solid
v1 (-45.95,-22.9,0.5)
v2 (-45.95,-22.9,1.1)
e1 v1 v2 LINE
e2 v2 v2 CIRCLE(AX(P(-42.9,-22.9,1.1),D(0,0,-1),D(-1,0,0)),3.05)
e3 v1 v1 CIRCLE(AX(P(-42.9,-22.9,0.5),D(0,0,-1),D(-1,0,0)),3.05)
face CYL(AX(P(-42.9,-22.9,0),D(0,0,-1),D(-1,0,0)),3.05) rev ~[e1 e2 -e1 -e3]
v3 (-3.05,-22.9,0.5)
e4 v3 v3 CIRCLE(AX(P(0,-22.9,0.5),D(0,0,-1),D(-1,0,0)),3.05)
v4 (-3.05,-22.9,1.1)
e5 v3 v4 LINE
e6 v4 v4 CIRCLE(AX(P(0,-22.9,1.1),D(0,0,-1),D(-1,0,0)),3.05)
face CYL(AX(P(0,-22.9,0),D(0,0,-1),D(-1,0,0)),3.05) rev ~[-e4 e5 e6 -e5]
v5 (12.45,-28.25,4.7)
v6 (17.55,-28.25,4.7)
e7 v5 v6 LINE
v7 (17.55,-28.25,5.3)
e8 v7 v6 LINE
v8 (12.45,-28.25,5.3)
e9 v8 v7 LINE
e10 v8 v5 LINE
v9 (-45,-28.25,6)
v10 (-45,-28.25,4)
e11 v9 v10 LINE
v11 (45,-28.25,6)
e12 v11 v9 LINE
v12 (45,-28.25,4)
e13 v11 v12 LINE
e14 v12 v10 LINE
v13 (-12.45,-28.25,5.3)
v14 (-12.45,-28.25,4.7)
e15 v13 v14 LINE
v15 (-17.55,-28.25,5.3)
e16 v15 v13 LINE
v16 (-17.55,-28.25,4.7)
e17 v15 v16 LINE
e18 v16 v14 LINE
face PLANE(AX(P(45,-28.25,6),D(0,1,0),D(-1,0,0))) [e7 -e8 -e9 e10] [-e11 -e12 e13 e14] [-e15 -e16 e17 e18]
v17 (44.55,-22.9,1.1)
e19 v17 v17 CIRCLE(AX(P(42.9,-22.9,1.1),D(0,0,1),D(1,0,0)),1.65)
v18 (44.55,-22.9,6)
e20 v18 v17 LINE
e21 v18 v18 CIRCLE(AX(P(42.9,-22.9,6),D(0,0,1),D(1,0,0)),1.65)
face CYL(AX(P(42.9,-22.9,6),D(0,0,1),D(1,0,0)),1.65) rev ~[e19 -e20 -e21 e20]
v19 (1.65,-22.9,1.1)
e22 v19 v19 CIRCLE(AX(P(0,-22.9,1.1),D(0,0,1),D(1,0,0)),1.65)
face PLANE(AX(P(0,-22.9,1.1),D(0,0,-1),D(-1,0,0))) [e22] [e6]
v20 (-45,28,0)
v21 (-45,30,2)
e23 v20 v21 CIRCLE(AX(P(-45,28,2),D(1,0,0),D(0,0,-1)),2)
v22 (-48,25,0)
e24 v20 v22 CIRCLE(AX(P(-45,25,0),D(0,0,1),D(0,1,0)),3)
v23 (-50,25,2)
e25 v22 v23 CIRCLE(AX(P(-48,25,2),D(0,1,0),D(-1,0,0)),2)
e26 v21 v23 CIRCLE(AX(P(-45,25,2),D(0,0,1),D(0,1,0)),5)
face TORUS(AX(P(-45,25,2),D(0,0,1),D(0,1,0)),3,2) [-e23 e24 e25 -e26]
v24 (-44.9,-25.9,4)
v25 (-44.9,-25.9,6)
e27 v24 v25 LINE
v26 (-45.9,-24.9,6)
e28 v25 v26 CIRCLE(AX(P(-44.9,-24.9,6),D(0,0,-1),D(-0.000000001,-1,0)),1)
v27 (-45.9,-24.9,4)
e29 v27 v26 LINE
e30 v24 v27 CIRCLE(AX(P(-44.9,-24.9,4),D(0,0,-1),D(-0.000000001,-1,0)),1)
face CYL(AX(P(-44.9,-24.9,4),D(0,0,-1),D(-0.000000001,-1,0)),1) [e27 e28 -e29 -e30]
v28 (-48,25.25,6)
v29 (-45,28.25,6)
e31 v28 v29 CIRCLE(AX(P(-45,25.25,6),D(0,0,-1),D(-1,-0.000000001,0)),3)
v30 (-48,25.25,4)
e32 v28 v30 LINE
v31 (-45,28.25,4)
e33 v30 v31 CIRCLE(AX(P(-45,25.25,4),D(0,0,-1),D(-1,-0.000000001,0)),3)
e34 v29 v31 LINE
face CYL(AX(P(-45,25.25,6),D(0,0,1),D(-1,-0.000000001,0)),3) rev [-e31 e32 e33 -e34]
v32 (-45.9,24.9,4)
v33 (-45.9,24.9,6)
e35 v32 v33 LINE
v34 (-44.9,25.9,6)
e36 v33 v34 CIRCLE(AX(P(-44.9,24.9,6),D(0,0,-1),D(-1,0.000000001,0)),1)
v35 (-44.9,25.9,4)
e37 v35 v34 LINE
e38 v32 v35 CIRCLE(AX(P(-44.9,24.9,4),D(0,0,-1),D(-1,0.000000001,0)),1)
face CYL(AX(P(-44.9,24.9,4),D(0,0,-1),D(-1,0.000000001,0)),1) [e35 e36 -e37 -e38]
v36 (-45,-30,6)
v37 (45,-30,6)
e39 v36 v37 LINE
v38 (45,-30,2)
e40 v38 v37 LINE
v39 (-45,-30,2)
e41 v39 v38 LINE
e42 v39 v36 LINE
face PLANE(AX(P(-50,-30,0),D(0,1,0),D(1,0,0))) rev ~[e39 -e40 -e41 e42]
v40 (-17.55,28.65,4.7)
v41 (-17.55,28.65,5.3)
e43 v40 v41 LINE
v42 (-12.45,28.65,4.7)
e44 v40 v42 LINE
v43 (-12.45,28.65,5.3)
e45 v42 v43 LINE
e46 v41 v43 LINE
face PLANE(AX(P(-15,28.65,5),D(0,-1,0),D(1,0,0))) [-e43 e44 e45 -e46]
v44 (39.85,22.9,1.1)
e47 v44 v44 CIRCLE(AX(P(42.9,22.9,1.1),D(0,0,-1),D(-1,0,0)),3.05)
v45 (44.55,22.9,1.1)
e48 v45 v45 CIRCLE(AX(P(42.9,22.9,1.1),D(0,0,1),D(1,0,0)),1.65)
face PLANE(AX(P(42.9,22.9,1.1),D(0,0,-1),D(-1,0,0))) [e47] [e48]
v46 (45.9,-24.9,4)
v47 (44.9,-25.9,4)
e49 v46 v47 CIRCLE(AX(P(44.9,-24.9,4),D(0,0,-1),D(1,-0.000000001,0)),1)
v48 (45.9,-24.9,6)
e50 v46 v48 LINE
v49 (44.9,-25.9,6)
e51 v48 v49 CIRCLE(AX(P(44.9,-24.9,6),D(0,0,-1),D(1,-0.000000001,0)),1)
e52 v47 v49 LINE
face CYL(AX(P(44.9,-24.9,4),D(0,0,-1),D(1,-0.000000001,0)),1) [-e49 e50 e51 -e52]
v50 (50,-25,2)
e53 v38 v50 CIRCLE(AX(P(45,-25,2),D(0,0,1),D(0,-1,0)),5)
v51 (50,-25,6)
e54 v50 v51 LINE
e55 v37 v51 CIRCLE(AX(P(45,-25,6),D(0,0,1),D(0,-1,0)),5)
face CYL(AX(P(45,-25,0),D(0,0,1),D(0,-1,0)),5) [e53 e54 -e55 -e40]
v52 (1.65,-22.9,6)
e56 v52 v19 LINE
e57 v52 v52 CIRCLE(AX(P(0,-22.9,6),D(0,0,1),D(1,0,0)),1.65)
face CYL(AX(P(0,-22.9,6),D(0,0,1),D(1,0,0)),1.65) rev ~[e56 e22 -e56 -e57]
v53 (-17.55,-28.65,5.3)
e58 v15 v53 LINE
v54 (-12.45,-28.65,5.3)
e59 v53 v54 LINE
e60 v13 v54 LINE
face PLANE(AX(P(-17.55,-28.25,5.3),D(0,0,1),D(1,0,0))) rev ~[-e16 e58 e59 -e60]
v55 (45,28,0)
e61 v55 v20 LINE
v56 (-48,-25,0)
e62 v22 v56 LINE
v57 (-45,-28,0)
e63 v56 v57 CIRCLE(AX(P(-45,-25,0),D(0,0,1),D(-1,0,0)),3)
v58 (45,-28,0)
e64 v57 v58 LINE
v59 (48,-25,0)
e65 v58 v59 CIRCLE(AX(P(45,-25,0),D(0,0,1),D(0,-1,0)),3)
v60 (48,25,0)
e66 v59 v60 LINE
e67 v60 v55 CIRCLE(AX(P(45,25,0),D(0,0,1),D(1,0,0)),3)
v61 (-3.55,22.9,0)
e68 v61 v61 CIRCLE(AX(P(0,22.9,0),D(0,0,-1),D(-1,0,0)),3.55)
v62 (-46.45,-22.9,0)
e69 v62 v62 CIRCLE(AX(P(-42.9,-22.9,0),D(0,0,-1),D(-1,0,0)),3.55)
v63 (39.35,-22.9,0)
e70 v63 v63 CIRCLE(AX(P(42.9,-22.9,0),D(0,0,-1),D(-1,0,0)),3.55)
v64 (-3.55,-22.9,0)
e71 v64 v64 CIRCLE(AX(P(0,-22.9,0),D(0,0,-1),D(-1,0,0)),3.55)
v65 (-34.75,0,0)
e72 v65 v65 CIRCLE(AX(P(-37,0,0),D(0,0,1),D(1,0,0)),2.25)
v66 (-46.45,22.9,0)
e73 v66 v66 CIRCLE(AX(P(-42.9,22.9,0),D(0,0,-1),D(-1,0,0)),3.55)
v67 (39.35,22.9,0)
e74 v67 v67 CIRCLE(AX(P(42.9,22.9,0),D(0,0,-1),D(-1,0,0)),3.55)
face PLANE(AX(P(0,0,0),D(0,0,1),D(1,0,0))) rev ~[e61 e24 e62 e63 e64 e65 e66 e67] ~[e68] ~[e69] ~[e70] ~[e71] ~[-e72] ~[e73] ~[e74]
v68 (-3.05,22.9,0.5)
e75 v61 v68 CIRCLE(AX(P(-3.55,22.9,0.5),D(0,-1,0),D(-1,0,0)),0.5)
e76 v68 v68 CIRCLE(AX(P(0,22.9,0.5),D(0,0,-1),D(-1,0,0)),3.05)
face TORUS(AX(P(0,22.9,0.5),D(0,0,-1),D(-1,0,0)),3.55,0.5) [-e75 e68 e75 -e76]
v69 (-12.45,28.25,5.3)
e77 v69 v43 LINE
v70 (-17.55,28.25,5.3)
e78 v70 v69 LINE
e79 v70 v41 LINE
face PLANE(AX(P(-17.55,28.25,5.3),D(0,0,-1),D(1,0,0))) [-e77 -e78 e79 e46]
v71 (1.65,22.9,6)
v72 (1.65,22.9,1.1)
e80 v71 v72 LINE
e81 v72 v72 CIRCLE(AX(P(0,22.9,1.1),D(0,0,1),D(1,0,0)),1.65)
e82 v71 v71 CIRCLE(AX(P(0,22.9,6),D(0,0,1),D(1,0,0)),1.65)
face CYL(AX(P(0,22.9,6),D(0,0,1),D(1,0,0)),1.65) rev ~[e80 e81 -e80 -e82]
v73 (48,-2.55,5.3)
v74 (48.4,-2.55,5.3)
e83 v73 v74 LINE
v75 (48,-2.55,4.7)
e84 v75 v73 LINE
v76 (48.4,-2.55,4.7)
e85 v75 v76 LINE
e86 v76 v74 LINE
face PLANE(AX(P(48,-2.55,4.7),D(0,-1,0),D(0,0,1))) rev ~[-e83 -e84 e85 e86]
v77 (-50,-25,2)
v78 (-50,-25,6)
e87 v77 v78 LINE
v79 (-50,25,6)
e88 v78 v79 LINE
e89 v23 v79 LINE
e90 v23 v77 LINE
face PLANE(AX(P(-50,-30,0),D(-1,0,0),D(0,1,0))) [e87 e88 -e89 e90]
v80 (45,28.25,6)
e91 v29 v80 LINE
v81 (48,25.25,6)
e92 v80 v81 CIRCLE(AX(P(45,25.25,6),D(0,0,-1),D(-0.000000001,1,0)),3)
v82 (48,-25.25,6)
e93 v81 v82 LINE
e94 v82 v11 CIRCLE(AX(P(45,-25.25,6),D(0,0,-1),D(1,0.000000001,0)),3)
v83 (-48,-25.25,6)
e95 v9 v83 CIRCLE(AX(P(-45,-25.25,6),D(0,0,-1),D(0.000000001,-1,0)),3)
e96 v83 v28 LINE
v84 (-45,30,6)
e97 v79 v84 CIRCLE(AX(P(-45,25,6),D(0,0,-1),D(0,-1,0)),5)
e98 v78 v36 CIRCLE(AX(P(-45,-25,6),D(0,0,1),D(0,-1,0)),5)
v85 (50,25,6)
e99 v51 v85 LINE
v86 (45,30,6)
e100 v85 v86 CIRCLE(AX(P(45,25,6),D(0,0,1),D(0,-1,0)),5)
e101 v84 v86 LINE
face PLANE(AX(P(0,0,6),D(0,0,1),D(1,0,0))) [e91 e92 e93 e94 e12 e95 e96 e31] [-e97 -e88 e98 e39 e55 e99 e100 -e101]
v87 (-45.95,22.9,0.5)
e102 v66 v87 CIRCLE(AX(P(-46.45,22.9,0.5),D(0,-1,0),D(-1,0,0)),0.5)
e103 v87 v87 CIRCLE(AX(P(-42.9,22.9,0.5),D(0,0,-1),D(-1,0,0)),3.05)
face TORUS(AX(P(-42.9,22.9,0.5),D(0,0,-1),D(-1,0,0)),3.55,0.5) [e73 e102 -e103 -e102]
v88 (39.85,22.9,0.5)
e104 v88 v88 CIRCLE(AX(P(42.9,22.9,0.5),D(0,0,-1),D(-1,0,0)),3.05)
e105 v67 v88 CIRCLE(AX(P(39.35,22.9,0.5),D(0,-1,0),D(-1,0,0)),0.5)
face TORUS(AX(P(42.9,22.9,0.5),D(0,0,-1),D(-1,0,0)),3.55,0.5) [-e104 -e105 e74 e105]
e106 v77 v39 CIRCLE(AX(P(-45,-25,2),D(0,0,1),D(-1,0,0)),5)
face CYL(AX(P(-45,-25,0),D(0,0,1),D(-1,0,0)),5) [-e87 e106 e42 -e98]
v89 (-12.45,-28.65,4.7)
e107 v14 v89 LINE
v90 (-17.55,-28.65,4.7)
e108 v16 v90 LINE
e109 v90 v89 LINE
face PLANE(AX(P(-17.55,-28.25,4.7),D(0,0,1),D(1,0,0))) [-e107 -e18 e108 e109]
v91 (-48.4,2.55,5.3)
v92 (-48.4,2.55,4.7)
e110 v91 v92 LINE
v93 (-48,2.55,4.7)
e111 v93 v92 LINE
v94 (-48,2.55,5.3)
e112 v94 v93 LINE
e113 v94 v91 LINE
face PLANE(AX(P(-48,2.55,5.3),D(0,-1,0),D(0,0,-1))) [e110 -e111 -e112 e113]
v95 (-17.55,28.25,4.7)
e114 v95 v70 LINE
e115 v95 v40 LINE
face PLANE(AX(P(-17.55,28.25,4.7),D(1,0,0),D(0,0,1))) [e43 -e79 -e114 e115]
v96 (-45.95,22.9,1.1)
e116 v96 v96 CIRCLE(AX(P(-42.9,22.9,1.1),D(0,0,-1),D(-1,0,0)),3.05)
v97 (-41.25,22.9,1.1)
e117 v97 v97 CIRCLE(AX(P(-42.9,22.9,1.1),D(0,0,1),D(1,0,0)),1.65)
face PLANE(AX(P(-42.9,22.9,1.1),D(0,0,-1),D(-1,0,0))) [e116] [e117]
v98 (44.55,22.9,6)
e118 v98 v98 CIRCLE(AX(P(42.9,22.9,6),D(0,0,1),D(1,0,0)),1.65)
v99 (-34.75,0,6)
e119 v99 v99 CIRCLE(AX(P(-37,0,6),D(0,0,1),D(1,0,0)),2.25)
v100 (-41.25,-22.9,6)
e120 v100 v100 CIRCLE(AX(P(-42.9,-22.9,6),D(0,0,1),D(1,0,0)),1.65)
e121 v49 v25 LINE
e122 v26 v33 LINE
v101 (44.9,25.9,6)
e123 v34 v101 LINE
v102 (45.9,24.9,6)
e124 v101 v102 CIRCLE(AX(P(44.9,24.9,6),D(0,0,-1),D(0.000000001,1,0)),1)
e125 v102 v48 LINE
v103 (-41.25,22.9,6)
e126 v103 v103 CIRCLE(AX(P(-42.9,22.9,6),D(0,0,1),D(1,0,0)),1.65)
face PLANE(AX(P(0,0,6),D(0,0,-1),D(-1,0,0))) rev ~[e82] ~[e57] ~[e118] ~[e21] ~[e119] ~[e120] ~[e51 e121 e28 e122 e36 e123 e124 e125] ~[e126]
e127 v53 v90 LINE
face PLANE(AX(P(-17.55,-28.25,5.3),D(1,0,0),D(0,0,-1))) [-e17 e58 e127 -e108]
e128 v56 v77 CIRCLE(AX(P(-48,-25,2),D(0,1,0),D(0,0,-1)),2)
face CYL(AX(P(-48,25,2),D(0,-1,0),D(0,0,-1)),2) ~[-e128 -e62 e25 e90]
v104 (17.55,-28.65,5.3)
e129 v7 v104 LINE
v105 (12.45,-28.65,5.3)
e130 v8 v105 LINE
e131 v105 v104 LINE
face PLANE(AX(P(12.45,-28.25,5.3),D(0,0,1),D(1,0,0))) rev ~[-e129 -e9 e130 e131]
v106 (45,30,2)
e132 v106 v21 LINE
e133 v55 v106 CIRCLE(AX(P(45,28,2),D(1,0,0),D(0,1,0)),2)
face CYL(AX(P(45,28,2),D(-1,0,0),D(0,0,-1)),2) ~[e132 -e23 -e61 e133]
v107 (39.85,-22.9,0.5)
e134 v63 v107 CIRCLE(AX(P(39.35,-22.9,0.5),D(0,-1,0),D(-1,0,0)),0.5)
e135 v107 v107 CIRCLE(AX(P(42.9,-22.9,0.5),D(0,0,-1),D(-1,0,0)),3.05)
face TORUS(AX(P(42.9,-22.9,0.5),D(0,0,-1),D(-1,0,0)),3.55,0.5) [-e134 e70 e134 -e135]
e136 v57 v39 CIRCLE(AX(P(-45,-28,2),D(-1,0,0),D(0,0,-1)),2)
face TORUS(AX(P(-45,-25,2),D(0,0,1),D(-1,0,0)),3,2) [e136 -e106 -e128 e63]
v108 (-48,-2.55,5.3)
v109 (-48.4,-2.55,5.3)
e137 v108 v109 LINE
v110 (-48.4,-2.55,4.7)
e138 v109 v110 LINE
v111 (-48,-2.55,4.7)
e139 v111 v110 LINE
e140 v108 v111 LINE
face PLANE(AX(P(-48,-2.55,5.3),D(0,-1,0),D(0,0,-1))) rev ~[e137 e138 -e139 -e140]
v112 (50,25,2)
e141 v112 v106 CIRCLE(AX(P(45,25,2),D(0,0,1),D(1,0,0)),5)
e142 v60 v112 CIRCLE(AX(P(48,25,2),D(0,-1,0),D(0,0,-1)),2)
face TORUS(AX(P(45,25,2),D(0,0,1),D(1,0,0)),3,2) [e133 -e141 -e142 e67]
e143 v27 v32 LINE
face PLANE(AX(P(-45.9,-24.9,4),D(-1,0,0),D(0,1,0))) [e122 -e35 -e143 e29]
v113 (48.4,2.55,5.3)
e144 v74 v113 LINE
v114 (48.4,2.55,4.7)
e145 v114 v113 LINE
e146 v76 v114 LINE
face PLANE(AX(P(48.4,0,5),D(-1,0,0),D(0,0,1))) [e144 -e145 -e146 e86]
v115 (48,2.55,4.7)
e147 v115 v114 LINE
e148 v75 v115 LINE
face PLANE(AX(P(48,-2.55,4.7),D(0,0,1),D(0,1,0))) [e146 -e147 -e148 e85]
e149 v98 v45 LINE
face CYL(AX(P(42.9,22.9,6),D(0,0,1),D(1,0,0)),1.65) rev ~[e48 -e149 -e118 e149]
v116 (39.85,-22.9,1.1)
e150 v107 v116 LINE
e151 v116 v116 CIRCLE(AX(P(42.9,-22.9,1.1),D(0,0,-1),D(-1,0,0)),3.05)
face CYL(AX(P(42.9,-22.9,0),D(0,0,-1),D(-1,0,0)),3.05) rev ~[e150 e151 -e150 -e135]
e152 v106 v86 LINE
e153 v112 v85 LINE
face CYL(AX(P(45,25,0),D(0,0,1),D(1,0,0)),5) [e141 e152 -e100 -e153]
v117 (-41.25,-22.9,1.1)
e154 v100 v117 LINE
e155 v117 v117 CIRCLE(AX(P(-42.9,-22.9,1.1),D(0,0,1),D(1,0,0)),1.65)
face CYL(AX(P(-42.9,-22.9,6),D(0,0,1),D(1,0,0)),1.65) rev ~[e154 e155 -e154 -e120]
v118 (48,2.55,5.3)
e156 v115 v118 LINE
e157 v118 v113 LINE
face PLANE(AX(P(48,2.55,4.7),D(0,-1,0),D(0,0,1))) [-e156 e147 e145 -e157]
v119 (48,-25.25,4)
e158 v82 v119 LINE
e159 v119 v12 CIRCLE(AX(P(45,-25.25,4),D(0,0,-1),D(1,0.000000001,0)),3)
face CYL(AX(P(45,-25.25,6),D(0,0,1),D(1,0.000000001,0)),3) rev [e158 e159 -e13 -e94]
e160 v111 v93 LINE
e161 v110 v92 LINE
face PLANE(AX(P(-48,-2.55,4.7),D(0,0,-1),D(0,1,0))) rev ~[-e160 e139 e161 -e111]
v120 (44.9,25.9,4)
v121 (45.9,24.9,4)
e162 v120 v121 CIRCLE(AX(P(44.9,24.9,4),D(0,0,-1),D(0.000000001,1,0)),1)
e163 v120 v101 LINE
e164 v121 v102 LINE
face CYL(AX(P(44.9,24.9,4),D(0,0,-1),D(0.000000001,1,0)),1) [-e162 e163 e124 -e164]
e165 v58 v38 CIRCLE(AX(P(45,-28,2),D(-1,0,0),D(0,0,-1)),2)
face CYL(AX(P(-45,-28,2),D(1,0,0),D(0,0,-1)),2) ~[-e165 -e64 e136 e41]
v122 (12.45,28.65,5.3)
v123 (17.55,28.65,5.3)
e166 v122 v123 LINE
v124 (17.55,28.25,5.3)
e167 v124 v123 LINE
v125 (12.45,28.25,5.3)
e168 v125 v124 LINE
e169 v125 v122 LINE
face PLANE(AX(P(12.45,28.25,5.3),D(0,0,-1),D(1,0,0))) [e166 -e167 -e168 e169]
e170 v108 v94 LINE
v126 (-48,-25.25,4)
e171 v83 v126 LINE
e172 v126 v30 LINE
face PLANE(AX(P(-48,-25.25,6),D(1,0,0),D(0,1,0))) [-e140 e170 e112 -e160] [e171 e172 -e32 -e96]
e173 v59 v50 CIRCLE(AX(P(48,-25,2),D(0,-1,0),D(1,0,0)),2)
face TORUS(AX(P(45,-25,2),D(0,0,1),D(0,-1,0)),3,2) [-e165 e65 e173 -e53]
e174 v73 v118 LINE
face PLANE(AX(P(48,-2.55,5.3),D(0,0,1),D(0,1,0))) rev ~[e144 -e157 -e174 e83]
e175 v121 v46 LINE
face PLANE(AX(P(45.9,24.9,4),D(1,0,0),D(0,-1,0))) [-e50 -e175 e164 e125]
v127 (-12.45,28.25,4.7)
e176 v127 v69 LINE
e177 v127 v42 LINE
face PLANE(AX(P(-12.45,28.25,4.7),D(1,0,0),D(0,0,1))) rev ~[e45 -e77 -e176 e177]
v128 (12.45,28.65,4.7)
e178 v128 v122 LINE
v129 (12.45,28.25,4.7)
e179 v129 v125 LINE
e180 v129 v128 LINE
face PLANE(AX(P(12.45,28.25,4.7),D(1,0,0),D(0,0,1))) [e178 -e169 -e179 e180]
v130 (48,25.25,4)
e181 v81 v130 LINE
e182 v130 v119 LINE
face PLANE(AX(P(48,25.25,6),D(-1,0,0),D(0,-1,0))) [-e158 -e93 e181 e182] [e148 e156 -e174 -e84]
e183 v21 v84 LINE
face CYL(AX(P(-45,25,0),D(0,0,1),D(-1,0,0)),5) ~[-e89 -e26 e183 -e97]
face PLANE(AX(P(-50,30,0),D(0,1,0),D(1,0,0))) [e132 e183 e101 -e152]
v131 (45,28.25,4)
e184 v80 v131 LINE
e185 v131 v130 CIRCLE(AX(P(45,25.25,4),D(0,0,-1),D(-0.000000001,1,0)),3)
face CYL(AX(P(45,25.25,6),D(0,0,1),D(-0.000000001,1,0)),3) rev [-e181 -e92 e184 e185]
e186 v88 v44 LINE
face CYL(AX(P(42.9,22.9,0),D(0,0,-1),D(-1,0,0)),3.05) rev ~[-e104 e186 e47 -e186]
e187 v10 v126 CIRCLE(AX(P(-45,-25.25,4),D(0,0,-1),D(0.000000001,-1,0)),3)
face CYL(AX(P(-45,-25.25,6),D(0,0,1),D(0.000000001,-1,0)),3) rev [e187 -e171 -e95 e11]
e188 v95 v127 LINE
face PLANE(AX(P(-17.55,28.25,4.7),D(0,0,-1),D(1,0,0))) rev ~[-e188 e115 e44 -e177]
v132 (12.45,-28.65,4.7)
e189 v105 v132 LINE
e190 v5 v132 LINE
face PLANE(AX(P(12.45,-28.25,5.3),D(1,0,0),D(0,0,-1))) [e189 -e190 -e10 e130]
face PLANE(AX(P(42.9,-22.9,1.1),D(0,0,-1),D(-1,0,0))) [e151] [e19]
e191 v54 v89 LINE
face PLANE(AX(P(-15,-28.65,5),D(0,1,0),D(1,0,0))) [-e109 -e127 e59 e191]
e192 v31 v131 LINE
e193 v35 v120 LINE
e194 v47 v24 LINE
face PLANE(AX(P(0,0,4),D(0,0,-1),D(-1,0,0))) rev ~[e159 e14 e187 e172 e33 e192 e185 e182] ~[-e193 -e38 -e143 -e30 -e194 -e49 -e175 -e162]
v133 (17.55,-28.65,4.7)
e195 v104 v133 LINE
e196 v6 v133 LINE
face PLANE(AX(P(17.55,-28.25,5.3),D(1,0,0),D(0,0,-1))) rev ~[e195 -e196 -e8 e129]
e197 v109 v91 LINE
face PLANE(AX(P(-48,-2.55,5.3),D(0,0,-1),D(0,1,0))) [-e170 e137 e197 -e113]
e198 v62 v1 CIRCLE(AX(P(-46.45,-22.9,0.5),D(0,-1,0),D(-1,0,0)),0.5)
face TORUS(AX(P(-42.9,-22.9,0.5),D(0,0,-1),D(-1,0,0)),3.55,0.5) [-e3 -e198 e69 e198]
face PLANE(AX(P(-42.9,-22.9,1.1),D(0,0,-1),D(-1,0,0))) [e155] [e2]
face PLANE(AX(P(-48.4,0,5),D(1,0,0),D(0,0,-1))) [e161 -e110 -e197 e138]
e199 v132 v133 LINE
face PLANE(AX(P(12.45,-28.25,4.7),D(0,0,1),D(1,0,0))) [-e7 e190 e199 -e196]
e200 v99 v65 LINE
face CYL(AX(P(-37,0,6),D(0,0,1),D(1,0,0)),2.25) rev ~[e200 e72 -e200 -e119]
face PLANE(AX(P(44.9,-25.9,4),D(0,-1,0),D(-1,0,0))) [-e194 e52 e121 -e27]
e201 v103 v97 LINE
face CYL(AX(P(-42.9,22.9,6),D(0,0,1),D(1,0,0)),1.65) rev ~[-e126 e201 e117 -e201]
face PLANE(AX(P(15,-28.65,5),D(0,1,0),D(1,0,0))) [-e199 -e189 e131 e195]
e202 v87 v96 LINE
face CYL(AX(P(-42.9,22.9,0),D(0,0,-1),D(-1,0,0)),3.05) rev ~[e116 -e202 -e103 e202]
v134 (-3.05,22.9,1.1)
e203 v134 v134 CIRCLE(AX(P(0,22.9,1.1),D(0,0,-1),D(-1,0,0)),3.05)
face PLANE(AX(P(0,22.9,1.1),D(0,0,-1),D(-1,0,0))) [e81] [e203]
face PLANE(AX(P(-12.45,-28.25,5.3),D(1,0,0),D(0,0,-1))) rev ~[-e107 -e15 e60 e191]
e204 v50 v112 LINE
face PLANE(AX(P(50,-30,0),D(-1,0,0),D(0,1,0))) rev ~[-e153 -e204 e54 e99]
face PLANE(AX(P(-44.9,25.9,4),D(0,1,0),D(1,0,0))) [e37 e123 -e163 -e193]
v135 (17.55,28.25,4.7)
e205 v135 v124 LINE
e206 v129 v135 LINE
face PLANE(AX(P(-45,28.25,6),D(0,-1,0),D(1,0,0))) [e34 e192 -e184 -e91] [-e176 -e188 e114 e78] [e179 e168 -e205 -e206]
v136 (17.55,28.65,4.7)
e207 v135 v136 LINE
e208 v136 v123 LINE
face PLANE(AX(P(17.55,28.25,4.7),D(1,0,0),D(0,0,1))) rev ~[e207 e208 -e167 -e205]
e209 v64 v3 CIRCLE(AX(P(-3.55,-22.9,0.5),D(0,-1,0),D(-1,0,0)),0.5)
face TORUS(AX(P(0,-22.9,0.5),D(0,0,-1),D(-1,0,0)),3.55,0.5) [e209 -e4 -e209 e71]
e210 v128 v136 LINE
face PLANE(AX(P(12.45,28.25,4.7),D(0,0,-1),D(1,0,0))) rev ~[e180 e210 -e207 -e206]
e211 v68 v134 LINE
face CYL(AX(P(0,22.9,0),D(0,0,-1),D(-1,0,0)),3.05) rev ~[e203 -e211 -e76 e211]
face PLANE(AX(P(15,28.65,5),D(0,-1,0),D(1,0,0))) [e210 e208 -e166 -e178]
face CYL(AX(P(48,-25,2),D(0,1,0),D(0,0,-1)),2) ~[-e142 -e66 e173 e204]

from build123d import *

# Parameters (mm, degrees)
SKETCH_1_W          = 100
SKETCH_1_H          = 60
EXTRUDE_1_DEPTH     = 6
FILLET_1_R          = 5
FILLET_2_R          = 2
CUT_EXTRUDE_1_DEPTH = 2
SKETCH_4_W          = 5.1
SKETCH_4_H          = 0.6
CUT_EXTRUDE_2_DEPTH = 0.4
SKETCH_5_W          = 5.1
SKETCH_5_H          = 0.6
CUT_EXTRUDE_3_DEPTH = 0.4
SKETCH_6_W          = 0.6
SKETCH_6_H          = 5.1
CUT_EXTRUDE_4_DEPTH = 0.4
SKETCH_7_W          = 0.6
SKETCH_7_H          = 5.1
CUT_EXTRUDE_5_DEPTH = 0.4
EXTRUDE_2_DEPTH     = 2
CUT_EXTRUDE_6_REACH = 8
SKETCH_9_R          = 1.65
SKETCH_10_R         = 3.05
CUT_EXTRUDE_7_DEPTH = 1.1
FILLET_3_R          = 0.5
CUT_EXTRUDE_8_REACH = 8
SKETCH_11_R         = 2.25


with BuildPart() as part:
    # 草图1 → 凸台-拉伸1 (new body)
    with BuildSketch(Plane.XY):
        Rectangle(SKETCH_1_W, SKETCH_1_H)
    extrude(amount=EXTRUDE_1_DEPTH)

    # 圆角1
    fillet_1_edges = [part.edges().sort_by_distance(p)[0] for p in [
        (-50, 30, 3),
        (50, 30, 3),
        (50, -30, 3),
        (-50, -30, 3),
    ]]
    fillet(fillet_1_edges, radius=FILLET_1_R)

    # 圆角2
    fillet_2_edges = [part.edges().sort_by_distance(p)[0] for p in [
        (0, -30, 0),
        (-50, 0, 0),
        (0, 30, 0),
        (50, 0, 0),
        (-48.535533906, 28.535533906, 0),
        (48.535533906, 28.535533906, 0),
        (48.535533906, -28.535533906, 0),
        (-48.535533906, -28.535533906, 0),
    ]]
    fillet(fillet_2_edges, radius=FILLET_2_R)

    # 草图2 → 切除-拉伸1 (cut)
    with BuildSketch(Plane.XY.offset(6)):
        with BuildLine():
            Line((-45, 28.25), (45, 28.25))
            ThreePointArc((45, 28.25), (47.121320344, 27.371320344), (48, 25.25))
            Line((48, 25.25), (48, -25.25))
            ThreePointArc((48, -25.25), (47.121320344, -27.371320344), (45, -28.25))
            Line((45, -28.25), (-45, -28.25))
            ThreePointArc((-45, -28.25), (-47.121320344, -27.371320344), (-48, -25.25))
            Line((-48, -25.25), (-48, 25.25))
            ThreePointArc((-48, 25.25), (-47.121320344, 27.371320344), (-45, 28.25))
        make_face()
    extrude(amount=-CUT_EXTRUDE_1_DEPTH, mode=Mode.SUBTRACT)

    # 草图4 → 切除-拉伸2 (cut)
    with BuildSketch(Plane(origin=(0, -28.25, 0), x_dir=(1, 0, 0), z_dir=(0, 1, 0))):
        with Locations((15, -5)):
            Rectangle(SKETCH_4_W, SKETCH_4_H)
        with Locations((-15, -5)):
            Rectangle(SKETCH_4_W, SKETCH_4_H)
    extrude(amount=-CUT_EXTRUDE_2_DEPTH, mode=Mode.SUBTRACT)

    # 草图5 → 切除-拉伸3 (cut)
    with BuildSketch(Plane.XZ.offset(-28.25)):
        with Locations((-15, 5)):
            Rectangle(SKETCH_5_W, SKETCH_5_H)
        with Locations((15, 5)):
            Rectangle(SKETCH_5_W, SKETCH_5_H)
    extrude(amount=-CUT_EXTRUDE_3_DEPTH, mode=Mode.SUBTRACT)

    # 草图6 → 切除-拉伸4 (cut)
    with BuildSketch(Plane(origin=(-48, 0, 0), x_dir=(0, 0, -1), z_dir=(1, 0, 0))):
        with Locations((-5, 0)):
            Rectangle(SKETCH_6_W, SKETCH_6_H)
    extrude(amount=-CUT_EXTRUDE_4_DEPTH, mode=Mode.SUBTRACT)

    # 草图7 → 切除-拉伸5 (cut)
    with BuildSketch(Plane.ZY.offset(-48)):
        with Locations((5, 0)):
            Rectangle(SKETCH_7_W, SKETCH_7_H)
    extrude(amount=-CUT_EXTRUDE_5_DEPTH, mode=Mode.SUBTRACT)

    # 草图8 → 凸台-拉伸2 (add)
    with BuildSketch(Plane.XY.offset(4)):
        with BuildLine():
            Line((44.9, -25.9), (-44.9, -25.9))
            ThreePointArc((-44.9, -25.9), (-45.607106781, -25.607106781), (-45.9, -24.9))
            Line((-45.9, -24.9), (-45.9, 24.9))
            ThreePointArc((-45.9, 24.9), (-45.607106781, 25.607106781), (-44.9, 25.9))
            Line((-44.9, 25.9), (44.9, 25.9))
            ThreePointArc((44.9, 25.9), (45.607106781, 25.607106781), (45.9, 24.9))
            Line((45.9, 24.9), (45.9, -24.9))
            ThreePointArc((45.9, -24.9), (45.607106781, -25.607106781), (44.9, -25.9))
        make_face()
    extrude(amount=EXTRUDE_2_DEPTH)

    # 草图9 → 切除-拉伸6 (cut, up to next)
    with BuildSketch(Plane.XY.offset(6), mode=Mode.PRIVATE) as cut_extrude_6_sk1:
        with Locations((42.9, 22.9)):
            Circle(SKETCH_9_R)
    cut_extrude_6_tool1 = extrude(cut_extrude_6_sk1.sketch, amount=-CUT_EXTRUDE_6_REACH, mode=Mode.PRIVATE) & part.part
    add(cut_extrude_6_tool1.solids().sort_by_distance((42.9, 22.9, 6))[0], mode=Mode.SUBTRACT)
    # 草图9 → 切除-拉伸6 (cut, up to next)
    with BuildSketch(Plane.XY.offset(6), mode=Mode.PRIVATE) as cut_extrude_6_sk2:
        with Locations((0, 22.9)):
            Circle(SKETCH_9_R)
    cut_extrude_6_tool2 = extrude(cut_extrude_6_sk2.sketch, amount=-CUT_EXTRUDE_6_REACH, mode=Mode.PRIVATE) & part.part
    add(cut_extrude_6_tool2.solids().sort_by_distance((0, 22.9, 6))[0], mode=Mode.SUBTRACT)
    # 草图9 → 切除-拉伸6 (cut, up to next)
    with BuildSketch(Plane.XY.offset(6), mode=Mode.PRIVATE) as cut_extrude_6_sk3:
        with Locations((-42.9, 22.9)):
            Circle(SKETCH_9_R)
    cut_extrude_6_tool3 = extrude(cut_extrude_6_sk3.sketch, amount=-CUT_EXTRUDE_6_REACH, mode=Mode.PRIVATE) & part.part
    add(cut_extrude_6_tool3.solids().sort_by_distance((-42.9, 22.9, 6))[0], mode=Mode.SUBTRACT)
    # 草图9 → 切除-拉伸6 (cut, up to next)
    with BuildSketch(Plane.XY.offset(6), mode=Mode.PRIVATE) as cut_extrude_6_sk4:
        with Locations((-42.9, -22.9)):
            Circle(SKETCH_9_R)
    cut_extrude_6_tool4 = extrude(cut_extrude_6_sk4.sketch, amount=-CUT_EXTRUDE_6_REACH, mode=Mode.PRIVATE) & part.part
    add(cut_extrude_6_tool4.solids().sort_by_distance((-42.9, -22.9, 6))[0], mode=Mode.SUBTRACT)
    # 草图9 → 切除-拉伸6 (cut, up to next)
    with BuildSketch(Plane.XY.offset(6), mode=Mode.PRIVATE) as cut_extrude_6_sk5:
        with Locations((0, -22.9)):
            Circle(SKETCH_9_R)
    cut_extrude_6_tool5 = extrude(cut_extrude_6_sk5.sketch, amount=-CUT_EXTRUDE_6_REACH, mode=Mode.PRIVATE) & part.part
    add(cut_extrude_6_tool5.solids().sort_by_distance((0, -22.9, 6))[0], mode=Mode.SUBTRACT)
    # 草图9 → 切除-拉伸6 (cut, up to next)
    with BuildSketch(Plane.XY.offset(6), mode=Mode.PRIVATE) as cut_extrude_6_sk6:
        with Locations((42.9, -22.9)):
            Circle(SKETCH_9_R)
    cut_extrude_6_tool6 = extrude(cut_extrude_6_sk6.sketch, amount=-CUT_EXTRUDE_6_REACH, mode=Mode.PRIVATE) & part.part
    add(cut_extrude_6_tool6.solids().sort_by_distance((42.9, -22.9, 6))[0], mode=Mode.SUBTRACT)

    # 草图10 → 切除-拉伸7 (cut)
    with BuildSketch(Plane(origin=(0, 0, 0), x_dir=(-1, 0, 0), z_dir=(0, 0, -1))):
        with Locations((42.9, 22.9)):
            Circle(SKETCH_10_R)
        with Locations((0, 22.9)):
            Circle(SKETCH_10_R)
        with Locations((-42.9, 22.9)):
            Circle(SKETCH_10_R)
        with Locations((-42.9, -22.9)):
            Circle(SKETCH_10_R)
        with Locations((0, -22.9)):
            Circle(SKETCH_10_R)
        with Locations((42.9, -22.9)):
            Circle(SKETCH_10_R)
    extrude(amount=-CUT_EXTRUDE_7_DEPTH, mode=Mode.SUBTRACT)

    # 圆角3
    fillet_3_edges = [part.edges().sort_by_distance(p)[0] for p in [
        (-39.85, -22.9, 0),
        (3.05, -22.9, 0),
        (45.95, -22.9, 0),
        (45.95, 22.9, 0),
        (3.05, 22.9, 0),
        (-39.85, 22.9, 0),
    ]]
    fillet(fillet_3_edges, radius=FILLET_3_R)

    # 草图11 → 切除-拉伸8 (cut, up to next)
    with BuildSketch(Plane.XY.offset(6), mode=Mode.PRIVATE) as cut_extrude_8_sk1:
        with Locations((-37, 0)):
            Circle(SKETCH_11_R)
    cut_extrude_8_tool1 = extrude(cut_extrude_8_sk1.sketch, amount=-CUT_EXTRUDE_8_REACH, mode=Mode.PRIVATE) & part.part
    add(cut_extrude_8_tool1.solids().sort_by_distance((-37, 0, 6))[0], mode=Mode.SUBTRACT)


solid = part.part
